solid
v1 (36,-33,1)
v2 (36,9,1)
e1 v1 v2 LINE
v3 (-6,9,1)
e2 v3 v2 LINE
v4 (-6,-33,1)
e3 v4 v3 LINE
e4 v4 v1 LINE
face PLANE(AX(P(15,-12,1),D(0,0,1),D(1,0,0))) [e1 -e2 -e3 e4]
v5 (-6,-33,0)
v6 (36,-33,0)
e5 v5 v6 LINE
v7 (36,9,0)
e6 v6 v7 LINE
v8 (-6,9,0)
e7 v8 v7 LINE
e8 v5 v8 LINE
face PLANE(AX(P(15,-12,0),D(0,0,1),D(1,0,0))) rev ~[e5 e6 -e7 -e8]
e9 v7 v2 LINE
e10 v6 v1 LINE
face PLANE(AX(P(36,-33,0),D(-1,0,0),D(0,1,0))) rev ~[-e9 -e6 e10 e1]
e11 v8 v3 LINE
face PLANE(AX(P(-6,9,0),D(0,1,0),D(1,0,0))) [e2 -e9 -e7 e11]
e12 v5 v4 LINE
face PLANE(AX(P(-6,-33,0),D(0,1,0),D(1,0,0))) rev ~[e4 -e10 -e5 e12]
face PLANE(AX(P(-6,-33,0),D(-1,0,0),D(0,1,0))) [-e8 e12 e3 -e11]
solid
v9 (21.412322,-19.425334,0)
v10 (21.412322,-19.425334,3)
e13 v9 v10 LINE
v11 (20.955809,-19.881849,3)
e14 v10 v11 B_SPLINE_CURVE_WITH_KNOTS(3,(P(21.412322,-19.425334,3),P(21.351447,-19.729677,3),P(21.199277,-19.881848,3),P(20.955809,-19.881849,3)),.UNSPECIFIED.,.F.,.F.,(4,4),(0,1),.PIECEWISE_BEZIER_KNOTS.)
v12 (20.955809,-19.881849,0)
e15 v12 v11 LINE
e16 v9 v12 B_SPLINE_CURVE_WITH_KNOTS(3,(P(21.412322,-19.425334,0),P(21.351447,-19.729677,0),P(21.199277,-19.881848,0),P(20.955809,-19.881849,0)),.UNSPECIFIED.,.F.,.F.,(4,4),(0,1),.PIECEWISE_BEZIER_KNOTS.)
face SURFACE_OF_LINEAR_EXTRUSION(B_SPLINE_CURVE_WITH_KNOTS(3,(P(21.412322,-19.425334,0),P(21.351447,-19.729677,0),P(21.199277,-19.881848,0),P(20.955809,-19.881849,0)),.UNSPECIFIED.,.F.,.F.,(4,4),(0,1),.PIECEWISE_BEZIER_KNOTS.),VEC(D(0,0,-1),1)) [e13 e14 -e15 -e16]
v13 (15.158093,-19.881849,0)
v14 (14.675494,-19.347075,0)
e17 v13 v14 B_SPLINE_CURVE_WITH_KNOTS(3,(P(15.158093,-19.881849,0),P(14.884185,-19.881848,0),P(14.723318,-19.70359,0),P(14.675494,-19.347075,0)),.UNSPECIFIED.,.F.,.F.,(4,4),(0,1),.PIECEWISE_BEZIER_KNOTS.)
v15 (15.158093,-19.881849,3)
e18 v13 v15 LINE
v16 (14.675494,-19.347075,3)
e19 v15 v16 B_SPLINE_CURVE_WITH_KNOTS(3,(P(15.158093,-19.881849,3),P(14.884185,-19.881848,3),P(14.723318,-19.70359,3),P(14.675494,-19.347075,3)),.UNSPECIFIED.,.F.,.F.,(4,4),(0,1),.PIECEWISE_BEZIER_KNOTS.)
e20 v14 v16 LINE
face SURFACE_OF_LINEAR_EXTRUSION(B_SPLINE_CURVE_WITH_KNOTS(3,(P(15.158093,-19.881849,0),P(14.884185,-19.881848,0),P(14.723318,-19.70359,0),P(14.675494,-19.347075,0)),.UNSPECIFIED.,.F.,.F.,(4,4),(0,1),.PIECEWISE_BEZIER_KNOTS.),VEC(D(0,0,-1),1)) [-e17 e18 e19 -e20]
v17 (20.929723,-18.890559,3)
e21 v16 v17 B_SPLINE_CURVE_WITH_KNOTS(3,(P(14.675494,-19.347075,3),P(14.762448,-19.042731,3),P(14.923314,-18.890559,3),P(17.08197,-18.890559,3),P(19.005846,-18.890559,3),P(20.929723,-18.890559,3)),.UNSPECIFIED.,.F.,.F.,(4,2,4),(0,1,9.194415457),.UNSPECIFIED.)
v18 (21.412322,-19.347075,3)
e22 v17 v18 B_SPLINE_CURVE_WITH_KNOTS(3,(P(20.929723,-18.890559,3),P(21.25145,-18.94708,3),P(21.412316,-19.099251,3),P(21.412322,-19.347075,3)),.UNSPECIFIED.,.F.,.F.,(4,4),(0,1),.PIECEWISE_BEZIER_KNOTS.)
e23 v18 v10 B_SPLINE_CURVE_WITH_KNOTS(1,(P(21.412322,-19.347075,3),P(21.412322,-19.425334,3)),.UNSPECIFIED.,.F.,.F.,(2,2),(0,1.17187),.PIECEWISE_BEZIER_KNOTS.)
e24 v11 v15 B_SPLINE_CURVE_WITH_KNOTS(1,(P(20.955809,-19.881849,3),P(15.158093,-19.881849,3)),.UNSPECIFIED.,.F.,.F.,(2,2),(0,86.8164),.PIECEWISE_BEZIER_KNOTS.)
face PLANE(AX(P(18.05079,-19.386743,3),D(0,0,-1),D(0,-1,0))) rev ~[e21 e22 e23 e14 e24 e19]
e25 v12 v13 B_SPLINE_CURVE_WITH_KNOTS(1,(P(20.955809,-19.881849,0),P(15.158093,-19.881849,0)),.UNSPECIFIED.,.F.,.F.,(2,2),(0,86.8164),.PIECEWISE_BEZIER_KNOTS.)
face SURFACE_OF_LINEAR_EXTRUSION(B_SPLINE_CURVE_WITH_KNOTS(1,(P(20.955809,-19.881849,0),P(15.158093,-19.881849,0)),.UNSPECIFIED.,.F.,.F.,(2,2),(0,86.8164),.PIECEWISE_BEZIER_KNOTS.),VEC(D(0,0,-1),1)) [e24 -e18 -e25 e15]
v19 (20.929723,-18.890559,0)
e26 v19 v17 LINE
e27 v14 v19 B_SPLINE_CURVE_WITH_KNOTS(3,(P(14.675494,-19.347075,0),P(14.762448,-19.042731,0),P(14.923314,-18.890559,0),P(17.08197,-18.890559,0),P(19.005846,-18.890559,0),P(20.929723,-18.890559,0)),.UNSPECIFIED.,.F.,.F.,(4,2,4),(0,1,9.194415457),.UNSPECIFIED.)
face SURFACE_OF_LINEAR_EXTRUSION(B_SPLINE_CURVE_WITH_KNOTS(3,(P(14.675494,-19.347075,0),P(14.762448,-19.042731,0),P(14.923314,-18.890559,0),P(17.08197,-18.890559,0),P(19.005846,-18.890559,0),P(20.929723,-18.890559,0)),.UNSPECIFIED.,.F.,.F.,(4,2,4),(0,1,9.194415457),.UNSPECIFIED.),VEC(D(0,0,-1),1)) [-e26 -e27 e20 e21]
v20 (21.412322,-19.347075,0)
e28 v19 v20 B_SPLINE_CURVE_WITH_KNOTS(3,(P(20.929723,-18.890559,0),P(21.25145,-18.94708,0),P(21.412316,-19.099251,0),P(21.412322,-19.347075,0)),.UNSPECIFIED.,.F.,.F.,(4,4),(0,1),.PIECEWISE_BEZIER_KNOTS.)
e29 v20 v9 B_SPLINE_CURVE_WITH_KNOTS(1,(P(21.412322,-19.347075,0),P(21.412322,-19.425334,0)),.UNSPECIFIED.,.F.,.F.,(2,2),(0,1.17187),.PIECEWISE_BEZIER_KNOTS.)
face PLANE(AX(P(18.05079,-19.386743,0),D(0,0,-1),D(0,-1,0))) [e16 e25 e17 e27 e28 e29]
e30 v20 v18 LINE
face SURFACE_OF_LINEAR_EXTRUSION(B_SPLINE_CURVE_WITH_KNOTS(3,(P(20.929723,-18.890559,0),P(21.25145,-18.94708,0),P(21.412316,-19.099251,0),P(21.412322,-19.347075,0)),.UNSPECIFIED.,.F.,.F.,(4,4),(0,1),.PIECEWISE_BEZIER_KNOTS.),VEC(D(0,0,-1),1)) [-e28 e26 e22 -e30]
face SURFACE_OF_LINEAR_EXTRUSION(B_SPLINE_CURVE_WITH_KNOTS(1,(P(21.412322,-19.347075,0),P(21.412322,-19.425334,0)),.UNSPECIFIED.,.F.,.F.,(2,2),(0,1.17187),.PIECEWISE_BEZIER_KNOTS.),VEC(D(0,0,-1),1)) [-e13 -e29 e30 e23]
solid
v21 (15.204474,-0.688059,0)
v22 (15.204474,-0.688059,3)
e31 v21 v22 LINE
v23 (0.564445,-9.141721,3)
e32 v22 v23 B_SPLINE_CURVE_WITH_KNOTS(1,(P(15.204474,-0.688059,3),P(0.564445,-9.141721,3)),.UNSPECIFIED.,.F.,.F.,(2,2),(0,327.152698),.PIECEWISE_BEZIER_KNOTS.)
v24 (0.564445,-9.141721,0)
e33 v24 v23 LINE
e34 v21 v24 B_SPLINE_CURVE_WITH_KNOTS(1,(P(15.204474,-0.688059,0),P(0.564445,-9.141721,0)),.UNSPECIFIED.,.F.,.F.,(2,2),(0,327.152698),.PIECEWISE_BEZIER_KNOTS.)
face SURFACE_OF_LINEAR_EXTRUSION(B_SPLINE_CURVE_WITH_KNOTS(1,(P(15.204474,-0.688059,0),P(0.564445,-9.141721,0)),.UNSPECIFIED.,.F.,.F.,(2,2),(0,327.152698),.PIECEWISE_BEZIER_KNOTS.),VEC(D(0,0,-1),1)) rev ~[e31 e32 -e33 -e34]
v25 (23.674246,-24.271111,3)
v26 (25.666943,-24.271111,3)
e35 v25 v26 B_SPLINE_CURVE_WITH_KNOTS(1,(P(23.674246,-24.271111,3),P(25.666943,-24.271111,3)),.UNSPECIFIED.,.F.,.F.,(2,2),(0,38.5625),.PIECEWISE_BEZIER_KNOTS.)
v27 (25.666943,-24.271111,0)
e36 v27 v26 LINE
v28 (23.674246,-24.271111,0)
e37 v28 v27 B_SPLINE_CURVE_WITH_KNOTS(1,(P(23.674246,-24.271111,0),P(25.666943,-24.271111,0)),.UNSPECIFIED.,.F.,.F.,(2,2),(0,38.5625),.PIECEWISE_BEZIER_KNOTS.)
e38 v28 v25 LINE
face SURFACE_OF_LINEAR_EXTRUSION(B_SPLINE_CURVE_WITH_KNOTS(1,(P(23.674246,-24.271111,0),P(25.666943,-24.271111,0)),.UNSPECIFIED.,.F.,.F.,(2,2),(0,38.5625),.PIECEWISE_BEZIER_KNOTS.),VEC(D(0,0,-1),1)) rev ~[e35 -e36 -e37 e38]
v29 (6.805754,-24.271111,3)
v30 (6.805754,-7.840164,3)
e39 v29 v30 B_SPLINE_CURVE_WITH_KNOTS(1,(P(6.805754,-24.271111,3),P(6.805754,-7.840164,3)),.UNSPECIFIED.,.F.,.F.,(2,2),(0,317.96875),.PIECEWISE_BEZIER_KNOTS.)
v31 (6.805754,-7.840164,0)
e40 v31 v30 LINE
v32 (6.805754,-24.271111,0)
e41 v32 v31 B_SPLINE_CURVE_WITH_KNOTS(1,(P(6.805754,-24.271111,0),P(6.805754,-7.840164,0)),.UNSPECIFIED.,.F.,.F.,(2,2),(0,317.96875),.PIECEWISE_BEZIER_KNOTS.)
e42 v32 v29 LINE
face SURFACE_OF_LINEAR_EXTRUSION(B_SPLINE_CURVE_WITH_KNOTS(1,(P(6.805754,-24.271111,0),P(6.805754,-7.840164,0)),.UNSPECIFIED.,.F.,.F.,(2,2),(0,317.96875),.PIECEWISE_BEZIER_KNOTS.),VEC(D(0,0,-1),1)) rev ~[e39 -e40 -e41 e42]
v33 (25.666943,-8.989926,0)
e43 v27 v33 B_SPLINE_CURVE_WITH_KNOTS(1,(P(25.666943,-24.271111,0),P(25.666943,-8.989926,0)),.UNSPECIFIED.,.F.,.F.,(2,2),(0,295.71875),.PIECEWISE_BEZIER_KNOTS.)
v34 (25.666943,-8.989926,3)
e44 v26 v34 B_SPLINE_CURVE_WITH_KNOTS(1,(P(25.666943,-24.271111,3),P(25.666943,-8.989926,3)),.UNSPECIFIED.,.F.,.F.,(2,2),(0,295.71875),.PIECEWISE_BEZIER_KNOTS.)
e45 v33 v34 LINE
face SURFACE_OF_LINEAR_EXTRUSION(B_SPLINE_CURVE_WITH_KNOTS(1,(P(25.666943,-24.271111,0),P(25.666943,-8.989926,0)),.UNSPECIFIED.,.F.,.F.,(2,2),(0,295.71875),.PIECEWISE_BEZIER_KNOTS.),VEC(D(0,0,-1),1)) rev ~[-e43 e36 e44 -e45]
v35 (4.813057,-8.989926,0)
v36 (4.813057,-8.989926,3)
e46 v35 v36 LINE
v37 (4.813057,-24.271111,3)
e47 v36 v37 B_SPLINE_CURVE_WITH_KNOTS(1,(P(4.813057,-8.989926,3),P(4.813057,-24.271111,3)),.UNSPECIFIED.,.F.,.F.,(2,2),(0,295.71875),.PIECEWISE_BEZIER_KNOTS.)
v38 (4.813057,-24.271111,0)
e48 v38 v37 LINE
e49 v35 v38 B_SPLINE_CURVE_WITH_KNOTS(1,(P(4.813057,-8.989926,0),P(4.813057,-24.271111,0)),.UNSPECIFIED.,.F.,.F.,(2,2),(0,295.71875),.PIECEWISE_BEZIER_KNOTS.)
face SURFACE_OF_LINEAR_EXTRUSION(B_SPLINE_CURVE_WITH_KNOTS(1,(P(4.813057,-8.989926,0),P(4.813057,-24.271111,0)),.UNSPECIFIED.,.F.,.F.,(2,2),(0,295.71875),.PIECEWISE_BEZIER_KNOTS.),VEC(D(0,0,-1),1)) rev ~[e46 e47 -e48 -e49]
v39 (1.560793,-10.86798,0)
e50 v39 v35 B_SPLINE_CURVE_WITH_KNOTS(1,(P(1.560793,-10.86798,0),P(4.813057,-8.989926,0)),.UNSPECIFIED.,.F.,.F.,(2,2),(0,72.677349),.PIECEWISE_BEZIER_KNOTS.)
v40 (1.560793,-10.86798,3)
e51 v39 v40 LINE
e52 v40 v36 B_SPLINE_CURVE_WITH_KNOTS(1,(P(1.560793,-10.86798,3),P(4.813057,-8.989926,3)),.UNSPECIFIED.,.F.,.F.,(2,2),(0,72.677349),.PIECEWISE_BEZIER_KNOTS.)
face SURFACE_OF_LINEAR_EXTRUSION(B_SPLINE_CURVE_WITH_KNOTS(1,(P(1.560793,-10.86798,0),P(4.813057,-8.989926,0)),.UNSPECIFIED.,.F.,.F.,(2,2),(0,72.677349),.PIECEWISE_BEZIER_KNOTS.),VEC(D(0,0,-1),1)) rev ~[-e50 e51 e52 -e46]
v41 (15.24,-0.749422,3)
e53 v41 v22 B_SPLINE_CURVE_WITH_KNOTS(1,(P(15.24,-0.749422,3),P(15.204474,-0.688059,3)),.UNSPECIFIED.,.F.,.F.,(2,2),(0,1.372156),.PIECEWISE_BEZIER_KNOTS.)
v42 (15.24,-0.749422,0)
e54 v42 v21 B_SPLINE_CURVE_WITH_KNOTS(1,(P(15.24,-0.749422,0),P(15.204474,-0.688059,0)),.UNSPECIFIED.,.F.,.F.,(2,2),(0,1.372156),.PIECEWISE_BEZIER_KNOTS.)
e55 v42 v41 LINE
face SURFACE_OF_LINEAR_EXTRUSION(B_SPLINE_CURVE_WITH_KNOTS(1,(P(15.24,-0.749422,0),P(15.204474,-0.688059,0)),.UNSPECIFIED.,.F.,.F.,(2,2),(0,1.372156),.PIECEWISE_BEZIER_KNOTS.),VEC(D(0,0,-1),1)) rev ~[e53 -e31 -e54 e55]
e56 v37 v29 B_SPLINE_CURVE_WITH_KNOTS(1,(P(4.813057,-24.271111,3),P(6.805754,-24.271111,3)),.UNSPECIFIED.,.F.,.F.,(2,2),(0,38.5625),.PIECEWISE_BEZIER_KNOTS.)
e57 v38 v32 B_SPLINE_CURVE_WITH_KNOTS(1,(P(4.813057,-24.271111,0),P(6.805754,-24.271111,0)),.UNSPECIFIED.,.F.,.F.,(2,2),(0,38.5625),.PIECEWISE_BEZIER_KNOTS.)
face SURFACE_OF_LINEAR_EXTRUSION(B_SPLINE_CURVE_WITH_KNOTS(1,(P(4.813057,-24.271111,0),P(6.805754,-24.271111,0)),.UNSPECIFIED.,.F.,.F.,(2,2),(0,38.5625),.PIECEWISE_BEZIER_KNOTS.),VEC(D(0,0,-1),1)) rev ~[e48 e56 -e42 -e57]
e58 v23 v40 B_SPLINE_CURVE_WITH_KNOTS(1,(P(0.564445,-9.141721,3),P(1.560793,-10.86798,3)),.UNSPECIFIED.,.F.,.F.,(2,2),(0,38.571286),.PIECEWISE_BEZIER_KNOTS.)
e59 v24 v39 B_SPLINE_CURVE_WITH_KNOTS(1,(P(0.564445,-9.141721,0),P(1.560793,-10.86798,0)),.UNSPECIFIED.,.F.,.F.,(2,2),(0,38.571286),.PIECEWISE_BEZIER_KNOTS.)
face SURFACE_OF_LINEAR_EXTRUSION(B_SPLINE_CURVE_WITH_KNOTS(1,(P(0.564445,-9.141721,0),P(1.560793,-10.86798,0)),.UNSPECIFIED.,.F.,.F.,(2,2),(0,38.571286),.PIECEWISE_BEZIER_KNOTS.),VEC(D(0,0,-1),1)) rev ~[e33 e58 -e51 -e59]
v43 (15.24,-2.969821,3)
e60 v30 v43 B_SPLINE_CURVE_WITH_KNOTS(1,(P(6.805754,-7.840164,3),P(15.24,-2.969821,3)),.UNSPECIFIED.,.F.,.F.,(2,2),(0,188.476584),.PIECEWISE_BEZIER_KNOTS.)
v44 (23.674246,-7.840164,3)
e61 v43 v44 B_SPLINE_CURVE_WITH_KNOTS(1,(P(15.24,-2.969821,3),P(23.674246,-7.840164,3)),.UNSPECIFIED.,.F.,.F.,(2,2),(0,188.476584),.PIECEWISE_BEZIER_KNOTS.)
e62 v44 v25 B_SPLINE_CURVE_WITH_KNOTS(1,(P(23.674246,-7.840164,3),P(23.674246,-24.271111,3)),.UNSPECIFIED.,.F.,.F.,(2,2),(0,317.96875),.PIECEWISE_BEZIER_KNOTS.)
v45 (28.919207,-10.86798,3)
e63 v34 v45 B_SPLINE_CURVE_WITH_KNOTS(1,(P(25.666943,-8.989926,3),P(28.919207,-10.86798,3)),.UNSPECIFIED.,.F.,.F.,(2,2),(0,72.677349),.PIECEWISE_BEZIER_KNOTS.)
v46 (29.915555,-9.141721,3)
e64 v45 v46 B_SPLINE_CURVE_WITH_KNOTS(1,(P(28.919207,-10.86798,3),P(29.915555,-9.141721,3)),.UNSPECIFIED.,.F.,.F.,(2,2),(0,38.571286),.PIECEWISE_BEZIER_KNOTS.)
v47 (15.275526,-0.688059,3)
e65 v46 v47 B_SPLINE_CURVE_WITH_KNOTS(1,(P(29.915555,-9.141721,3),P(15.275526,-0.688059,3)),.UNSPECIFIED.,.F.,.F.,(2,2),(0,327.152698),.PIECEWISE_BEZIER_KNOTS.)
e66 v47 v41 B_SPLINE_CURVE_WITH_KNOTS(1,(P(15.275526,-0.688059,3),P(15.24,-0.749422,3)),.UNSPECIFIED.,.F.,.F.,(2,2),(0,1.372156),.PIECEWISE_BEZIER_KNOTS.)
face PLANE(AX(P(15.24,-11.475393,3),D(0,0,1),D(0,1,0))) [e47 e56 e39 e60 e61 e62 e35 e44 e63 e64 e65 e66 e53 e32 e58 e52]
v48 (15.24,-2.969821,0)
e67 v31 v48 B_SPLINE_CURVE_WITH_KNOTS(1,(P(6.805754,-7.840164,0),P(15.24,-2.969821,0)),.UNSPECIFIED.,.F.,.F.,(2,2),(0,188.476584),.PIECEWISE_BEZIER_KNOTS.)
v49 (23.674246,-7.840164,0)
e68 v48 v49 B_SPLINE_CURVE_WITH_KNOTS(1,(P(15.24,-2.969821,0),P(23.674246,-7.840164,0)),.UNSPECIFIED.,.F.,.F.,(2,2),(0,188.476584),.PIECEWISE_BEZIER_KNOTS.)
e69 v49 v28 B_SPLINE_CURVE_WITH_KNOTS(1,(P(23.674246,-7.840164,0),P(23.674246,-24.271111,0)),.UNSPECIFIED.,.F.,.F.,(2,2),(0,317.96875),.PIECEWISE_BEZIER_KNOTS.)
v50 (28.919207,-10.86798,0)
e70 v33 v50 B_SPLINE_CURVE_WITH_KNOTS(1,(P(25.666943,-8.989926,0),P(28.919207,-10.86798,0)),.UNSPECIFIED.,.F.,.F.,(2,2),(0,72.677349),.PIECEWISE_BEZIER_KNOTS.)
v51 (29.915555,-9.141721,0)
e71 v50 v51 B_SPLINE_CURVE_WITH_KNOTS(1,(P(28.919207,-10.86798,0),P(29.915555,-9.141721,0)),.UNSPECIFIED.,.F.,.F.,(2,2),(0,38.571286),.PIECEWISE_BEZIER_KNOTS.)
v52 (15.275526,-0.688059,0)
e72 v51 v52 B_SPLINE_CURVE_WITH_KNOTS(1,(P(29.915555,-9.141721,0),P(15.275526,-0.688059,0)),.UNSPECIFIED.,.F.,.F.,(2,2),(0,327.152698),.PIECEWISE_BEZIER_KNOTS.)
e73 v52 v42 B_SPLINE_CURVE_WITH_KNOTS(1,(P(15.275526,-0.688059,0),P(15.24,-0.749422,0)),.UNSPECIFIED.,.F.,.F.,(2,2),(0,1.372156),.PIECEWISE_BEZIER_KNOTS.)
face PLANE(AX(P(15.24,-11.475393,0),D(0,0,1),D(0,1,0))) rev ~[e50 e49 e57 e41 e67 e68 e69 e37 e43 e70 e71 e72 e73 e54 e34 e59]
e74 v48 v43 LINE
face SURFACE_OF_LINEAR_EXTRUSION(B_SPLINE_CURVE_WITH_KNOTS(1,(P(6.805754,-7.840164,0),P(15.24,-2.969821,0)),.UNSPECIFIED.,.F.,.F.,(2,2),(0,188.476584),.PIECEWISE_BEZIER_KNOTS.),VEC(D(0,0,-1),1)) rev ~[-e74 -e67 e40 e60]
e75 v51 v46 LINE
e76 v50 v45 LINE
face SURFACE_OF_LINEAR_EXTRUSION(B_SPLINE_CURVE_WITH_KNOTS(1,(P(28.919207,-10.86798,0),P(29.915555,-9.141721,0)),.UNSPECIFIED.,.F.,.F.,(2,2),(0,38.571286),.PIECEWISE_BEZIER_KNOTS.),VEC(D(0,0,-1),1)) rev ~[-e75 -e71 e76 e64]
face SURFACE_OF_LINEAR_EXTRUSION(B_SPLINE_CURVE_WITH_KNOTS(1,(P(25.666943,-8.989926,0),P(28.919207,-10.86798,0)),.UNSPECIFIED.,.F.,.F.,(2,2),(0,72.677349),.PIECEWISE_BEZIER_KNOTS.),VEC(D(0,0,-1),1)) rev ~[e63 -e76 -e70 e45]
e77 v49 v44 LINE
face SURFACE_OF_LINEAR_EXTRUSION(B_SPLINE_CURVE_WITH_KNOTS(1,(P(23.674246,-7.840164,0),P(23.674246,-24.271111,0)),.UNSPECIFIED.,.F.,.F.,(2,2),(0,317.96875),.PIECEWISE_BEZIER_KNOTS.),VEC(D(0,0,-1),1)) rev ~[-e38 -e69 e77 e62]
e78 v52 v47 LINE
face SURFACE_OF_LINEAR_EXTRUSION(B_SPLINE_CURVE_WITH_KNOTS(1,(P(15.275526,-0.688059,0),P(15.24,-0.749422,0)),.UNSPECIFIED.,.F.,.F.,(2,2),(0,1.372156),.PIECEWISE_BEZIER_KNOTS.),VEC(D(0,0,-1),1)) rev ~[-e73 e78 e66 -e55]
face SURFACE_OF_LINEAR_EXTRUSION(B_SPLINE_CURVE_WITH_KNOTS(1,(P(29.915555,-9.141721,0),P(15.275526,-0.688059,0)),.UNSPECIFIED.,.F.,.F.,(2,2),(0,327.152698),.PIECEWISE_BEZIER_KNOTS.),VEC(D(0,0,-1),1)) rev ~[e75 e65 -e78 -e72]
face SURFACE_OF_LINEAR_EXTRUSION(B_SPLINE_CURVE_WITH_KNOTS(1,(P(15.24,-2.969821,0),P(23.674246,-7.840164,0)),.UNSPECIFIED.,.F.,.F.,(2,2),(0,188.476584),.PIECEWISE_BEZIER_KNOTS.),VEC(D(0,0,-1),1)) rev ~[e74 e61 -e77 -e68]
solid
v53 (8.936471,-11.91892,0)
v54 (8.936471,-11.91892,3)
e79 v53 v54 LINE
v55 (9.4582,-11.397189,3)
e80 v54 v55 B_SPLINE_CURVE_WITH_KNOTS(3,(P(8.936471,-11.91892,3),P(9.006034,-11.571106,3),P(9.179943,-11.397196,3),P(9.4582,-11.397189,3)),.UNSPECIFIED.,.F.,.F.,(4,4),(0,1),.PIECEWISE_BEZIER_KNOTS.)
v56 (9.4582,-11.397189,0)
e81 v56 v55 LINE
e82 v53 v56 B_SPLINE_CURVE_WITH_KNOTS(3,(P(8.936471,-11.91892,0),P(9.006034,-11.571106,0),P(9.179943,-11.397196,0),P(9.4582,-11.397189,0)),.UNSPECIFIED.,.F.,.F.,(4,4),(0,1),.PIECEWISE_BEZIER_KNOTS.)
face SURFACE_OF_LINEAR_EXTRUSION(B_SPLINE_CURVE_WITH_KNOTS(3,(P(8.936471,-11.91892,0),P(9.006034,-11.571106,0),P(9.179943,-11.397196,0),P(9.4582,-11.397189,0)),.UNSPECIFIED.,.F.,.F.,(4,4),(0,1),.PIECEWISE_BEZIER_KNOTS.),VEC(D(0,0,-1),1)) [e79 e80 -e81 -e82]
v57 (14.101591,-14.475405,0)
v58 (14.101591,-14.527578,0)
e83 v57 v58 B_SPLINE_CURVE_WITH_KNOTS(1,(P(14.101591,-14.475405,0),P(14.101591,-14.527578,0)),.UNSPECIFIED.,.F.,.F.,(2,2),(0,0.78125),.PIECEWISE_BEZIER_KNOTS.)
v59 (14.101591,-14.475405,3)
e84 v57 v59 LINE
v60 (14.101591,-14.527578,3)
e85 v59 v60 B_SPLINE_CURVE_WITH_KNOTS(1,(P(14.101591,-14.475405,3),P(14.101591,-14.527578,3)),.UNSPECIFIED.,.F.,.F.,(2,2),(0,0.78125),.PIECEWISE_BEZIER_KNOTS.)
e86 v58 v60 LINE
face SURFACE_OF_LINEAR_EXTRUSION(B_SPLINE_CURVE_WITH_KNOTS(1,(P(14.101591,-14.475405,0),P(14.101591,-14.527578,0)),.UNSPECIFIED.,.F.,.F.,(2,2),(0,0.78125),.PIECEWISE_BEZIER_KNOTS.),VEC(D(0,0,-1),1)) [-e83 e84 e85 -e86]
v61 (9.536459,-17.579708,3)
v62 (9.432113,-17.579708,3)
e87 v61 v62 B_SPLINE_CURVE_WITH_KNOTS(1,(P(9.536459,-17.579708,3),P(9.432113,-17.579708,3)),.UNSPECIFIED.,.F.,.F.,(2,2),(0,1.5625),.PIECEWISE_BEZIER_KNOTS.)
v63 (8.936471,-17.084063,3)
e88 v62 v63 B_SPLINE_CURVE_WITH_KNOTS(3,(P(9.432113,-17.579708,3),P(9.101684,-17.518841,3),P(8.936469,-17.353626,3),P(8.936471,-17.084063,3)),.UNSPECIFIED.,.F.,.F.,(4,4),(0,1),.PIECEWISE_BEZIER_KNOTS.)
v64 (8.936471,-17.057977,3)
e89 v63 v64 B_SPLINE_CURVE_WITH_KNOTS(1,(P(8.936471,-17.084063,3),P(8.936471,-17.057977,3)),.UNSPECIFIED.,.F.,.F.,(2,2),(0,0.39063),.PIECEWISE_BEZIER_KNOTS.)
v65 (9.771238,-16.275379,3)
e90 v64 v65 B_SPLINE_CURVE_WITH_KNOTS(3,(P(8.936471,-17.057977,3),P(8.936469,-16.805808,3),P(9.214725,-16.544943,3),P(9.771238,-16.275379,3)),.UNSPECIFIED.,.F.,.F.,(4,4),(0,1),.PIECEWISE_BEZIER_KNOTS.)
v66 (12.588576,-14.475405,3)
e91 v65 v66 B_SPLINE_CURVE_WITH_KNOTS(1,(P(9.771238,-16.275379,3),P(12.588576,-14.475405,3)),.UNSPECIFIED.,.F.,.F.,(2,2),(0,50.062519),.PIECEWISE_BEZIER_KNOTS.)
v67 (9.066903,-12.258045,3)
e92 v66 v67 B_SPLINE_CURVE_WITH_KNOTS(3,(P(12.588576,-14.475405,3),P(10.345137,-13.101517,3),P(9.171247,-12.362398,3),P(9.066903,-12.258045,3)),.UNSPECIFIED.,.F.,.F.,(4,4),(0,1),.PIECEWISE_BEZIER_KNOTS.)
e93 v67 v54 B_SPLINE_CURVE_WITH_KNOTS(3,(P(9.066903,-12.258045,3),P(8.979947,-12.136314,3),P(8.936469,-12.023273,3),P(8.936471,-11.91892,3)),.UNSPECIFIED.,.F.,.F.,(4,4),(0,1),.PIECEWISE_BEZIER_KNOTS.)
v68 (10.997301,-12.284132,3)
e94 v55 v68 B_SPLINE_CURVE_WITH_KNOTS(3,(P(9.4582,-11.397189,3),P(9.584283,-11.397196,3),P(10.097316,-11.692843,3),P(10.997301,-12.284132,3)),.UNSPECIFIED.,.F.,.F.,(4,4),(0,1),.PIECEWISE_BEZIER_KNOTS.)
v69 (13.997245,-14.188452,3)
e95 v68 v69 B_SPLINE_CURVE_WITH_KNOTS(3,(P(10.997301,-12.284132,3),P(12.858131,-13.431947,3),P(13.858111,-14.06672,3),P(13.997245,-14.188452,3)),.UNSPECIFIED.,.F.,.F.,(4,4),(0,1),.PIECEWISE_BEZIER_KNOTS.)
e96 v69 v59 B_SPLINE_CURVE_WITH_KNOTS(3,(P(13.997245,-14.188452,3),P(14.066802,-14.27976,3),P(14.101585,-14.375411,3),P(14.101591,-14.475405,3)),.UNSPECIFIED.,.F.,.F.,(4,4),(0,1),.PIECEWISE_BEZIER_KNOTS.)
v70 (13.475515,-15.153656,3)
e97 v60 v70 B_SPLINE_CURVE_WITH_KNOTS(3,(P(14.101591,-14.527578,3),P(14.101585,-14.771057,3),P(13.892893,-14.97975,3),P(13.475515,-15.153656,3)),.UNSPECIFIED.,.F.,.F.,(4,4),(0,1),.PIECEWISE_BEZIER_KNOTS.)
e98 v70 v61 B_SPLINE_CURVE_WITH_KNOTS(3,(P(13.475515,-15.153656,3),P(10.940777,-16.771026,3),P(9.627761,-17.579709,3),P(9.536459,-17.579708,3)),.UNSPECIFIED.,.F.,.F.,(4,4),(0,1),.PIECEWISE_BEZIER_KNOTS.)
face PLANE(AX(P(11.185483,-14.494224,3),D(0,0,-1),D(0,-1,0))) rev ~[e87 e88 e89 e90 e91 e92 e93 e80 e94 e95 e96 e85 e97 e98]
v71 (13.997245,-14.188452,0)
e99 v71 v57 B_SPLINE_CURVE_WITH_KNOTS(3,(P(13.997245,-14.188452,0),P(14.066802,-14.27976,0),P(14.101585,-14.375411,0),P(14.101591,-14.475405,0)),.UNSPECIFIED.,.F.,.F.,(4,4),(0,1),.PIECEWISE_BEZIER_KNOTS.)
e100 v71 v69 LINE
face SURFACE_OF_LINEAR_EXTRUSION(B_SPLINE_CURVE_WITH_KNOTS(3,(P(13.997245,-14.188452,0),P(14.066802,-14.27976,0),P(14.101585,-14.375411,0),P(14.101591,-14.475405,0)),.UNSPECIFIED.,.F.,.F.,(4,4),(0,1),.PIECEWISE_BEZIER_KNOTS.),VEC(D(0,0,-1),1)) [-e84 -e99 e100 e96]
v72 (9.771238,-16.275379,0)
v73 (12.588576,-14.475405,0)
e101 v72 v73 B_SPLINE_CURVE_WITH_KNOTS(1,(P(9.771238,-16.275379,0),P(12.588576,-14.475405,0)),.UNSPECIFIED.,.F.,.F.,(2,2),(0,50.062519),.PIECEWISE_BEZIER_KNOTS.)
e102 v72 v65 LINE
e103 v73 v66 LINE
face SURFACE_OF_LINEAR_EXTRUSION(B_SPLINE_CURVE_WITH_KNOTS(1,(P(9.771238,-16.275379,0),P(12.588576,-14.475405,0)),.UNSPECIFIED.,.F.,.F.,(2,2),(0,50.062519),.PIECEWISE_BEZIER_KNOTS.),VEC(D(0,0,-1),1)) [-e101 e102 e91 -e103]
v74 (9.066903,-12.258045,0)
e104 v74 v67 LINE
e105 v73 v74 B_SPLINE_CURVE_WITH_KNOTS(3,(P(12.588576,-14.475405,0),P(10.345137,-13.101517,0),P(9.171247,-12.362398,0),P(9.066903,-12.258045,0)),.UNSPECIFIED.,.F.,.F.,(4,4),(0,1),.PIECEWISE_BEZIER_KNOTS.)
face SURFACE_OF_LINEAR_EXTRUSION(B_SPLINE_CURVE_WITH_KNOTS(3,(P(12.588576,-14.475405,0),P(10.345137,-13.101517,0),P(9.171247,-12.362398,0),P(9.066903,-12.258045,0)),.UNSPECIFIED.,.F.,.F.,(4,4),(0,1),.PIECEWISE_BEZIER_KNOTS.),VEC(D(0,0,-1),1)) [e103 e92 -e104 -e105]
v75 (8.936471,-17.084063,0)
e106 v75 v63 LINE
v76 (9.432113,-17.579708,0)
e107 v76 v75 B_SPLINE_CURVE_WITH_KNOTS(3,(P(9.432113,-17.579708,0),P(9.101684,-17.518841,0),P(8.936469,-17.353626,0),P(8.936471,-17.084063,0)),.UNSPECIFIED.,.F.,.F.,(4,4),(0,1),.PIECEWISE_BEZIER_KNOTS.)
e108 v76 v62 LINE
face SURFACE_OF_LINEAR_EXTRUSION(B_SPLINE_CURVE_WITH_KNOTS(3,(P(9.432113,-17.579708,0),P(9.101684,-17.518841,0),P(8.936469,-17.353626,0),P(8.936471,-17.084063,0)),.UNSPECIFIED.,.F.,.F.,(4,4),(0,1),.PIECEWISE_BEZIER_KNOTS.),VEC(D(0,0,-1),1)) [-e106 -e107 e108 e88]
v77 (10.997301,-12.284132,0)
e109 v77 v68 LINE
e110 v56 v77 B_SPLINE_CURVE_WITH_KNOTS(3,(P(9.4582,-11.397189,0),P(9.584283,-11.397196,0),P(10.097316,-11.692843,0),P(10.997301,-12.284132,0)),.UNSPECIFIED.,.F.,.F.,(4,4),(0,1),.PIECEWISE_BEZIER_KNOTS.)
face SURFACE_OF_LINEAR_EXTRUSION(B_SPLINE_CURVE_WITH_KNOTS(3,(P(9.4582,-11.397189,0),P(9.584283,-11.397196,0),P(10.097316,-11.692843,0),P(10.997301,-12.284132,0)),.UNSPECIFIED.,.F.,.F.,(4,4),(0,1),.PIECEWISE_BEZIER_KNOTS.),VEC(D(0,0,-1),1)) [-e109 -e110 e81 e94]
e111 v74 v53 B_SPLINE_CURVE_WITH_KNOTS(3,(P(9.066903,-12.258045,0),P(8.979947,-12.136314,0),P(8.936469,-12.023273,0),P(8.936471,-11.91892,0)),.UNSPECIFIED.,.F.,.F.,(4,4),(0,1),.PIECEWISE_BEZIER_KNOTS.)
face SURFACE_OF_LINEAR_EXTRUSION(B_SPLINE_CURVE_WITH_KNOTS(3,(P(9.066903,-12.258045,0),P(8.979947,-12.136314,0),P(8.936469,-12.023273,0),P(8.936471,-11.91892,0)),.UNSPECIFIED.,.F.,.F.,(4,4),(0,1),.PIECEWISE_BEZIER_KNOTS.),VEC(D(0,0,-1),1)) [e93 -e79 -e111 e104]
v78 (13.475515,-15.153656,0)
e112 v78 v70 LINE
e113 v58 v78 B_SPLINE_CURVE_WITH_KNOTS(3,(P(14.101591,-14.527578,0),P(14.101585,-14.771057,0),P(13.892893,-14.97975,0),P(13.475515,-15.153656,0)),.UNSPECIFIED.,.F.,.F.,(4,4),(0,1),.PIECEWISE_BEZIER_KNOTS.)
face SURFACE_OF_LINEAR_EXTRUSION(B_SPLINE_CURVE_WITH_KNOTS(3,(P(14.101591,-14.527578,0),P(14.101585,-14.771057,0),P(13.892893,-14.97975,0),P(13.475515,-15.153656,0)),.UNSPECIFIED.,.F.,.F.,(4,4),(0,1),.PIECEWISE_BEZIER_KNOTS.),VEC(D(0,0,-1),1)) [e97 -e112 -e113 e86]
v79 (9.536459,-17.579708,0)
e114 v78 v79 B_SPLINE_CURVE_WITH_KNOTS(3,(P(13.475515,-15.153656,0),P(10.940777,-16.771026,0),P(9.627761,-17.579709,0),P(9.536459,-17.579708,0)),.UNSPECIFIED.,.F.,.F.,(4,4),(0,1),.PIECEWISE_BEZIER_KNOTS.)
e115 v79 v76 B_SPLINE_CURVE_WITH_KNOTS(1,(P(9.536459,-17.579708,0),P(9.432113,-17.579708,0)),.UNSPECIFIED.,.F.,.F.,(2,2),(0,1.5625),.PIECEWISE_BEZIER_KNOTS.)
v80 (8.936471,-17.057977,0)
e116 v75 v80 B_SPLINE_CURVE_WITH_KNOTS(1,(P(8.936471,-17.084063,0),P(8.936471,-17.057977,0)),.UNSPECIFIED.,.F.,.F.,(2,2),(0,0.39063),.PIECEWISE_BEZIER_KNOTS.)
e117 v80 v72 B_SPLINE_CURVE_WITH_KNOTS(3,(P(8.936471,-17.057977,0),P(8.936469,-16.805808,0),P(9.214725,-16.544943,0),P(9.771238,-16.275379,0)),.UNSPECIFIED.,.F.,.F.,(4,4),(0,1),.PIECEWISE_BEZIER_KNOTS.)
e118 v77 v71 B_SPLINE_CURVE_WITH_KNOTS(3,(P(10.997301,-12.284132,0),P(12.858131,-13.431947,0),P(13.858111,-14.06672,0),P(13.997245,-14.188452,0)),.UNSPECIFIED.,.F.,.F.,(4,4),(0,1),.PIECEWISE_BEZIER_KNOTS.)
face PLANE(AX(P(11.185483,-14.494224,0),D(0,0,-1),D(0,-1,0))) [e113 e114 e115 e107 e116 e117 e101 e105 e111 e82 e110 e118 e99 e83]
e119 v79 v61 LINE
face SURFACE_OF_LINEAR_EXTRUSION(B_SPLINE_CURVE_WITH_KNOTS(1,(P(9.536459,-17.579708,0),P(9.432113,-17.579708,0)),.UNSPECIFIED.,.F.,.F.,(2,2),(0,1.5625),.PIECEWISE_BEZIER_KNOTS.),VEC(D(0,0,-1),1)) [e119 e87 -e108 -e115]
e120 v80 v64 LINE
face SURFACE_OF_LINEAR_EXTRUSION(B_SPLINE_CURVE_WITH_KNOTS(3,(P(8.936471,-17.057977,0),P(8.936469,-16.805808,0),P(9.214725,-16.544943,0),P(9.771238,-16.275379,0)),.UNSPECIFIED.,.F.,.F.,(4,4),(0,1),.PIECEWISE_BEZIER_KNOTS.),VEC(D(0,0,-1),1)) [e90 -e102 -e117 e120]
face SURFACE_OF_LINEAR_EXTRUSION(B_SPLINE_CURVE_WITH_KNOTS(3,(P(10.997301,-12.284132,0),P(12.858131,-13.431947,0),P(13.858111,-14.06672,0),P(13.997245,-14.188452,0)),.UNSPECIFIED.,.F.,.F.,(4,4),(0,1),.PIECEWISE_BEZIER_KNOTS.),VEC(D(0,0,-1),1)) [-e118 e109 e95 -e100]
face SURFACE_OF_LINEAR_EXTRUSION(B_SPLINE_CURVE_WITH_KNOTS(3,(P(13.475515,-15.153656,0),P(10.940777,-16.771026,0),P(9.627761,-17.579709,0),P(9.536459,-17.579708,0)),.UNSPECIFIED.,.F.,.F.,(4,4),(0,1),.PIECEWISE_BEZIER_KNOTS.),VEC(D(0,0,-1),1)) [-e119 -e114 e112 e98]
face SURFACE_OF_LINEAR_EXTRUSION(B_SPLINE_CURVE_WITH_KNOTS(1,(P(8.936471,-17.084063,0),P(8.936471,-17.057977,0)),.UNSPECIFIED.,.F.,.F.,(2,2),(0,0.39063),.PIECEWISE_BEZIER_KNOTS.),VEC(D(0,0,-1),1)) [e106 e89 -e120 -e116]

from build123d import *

# Parameters (mm, degrees)
EXTRUDE_DEPTH    = 3
EXTRUDE001_DEPTH = 3
EXTRUDE003_DEPTH = 3
BOX_W            = 42
BOX_H            = 42
BOX_DEPTH        = 1


with BuildPart() as extrude_body:
    # rect2864_9 → Extrude (new body)
    with BuildSketch(Plane(origin=(15.24, -12.479585, 0), x_dir=(0, 1, 0), z_dir=(0, 0, 1))):
        with BuildLine():
            add(Edge.make_bspline(
                [(11.791526, 0.035526), (3.337864, 14.675555)],
                knots=[0, 0, 327.152698, 327.152698], degree=1))
            add(Edge.make_bspline(
                [(3.337864, 14.675555), (1.611605, 13.679207)],
                knots=[0, 0, 38.571286, 38.571286], degree=1))
            add(Edge.make_bspline(
                [(1.611605, 13.679207), (3.489659, 10.426943)],
                knots=[0, 0, 72.677349, 72.677349], degree=1))
            add(Edge.make_bspline(
                [(3.489659, 10.426943), (-11.791526, 10.426943)],
                knots=[0, 0, 295.71875, 295.71875], degree=1))
            add(Edge.make_bspline(
                [(-11.791526, 10.426943), (-11.791526, 8.434246)],
                knots=[0, 0, 38.5625, 38.5625], degree=1))
            add(Edge.make_bspline(
                [(-11.791526, 8.434246), (4.639421, 8.434246)],
                knots=[0, 0, 317.96875, 317.96875], degree=1))
            add(Edge.make_bspline(
                [(4.639421, 8.434246), (9.509764, 0)],
                knots=[0, 0, 188.476584, 188.476584], degree=1))
            add(Edge.make_bspline(
                [(9.509764, 0), (4.639421, -8.434246)],
                knots=[0, 0, 188.476584, 188.476584], degree=1))
            add(Edge.make_bspline(
                [(4.639421, -8.434246), (-11.791526, -8.434246)],
                knots=[0, 0, 317.96875, 317.96875], degree=1))
            add(Edge.make_bspline(
                [(-11.791526, -8.434246), (-11.791526, -10.426943)],
                knots=[0, 0, 38.5625, 38.5625], degree=1))
            add(Edge.make_bspline(
                [(-11.791526, -10.426943), (3.489659, -10.426943)],
                knots=[0, 0, 295.71875, 295.71875], degree=1))
            add(Edge.make_bspline(
                [(3.489659, -10.426943), (1.611605, -13.679207)],
                knots=[0, 0, 72.677349, 72.677349], degree=1))
            add(Edge.make_bspline(
                [(1.611605, -13.679207), (3.337864, -14.675555)],
                knots=[0, 0, 38.571286, 38.571286], degree=1))
            add(Edge.make_bspline(
                [(3.337864, -14.675555), (11.791526, -0.035526)],
                knots=[0, 0, 327.152698, 327.152698], degree=1))
            add(Edge.make_bspline(
                [(11.791526, -0.035526), (11.730163, 0)],
                knots=[0, 0, 1.372156, 1.372156], degree=1))
            add(Edge.make_bspline(
                [(11.730163, 0), (11.791526, 0.035526)],
                knots=[0, 0, 1.372156, 1.372156], degree=1))
        make_face()
    extrude(amount=EXTRUDE_DEPTH)


with BuildPart() as extrude001:
    # path2994 → Extrude001 (new body)
    with BuildSketch(Plane(origin=(11.51903, -14.488449, 0), x_dir=(0, -1, 0), z_dir=(0, 0, -1))):
        with BuildLine():
            add(Edge.make_bspline(
                [(-3.09126, 2.06083), (-3.091253, 1.934747), (-2.795606, 1.421714), (-2.204317, 0.521729)],
                knots=[0, 0, 0, 0, 1, 1, 1, 1], degree=3))
            add(Edge.make_bspline(
                [(-2.204317, 0.521729), (-1.056502, -1.339101), (-0.421729, -2.339081), (-0.299997, -2.478215)],
                knots=[0, 0, 0, 0, 1, 1, 1, 1], degree=3))
            add(Edge.make_bspline(
                [(-0.299997, -2.478215), (-0.208689, -2.547772), (-0.113038, -2.582555), (-0.013044, -2.582561)],
                knots=[0, 0, 0, 0, 1, 1, 1, 1], degree=3))
            add(Edge.make_bspline(
                [(-0.013044, -2.582561), (0.039129, -2.582561)],
                knots=[0, 0, 0.78125, 0.78125], degree=1))
            add(Edge.make_bspline(
                [(0.039129, -2.582561), (0.282608, -2.582555), (0.491301, -2.373863), (0.665207, -1.956485)],
                knots=[0, 0, 0, 0, 1, 1, 1, 1], degree=3))
            add(Edge.make_bspline(
                [(0.665207, -1.956485), (2.282577, 0.578253), (3.09126, 1.891269), (3.091259, 1.982571)],
                knots=[0, 0, 0, 0, 1, 1, 1, 1], degree=3))
            add(Edge.make_bspline(
                [(3.091259, 1.982571), (3.091259, 2.086917)],
                knots=[0, 0, 1.5625, 1.5625], degree=1))
            add(Edge.make_bspline(
                [(3.091259, 2.086917), (3.030392, 2.417346), (2.865177, 2.582561), (2.595614, 2.582559)],
                knots=[0, 0, 0, 0, 1, 1, 1, 1], degree=3))
            add(Edge.make_bspline(
                [(2.595614, 2.582559), (2.569528, 2.582559)],
                knots=[0, 0, 0.39063, 0.39063], degree=1))
            add(Edge.make_bspline(
                [(2.569528, 2.582559), (2.317359, 2.582561), (2.056494, 2.304305), (1.78693, 1.747792)],
                knots=[0, 0, 0, 0, 1, 1, 1, 1], degree=3))
            add(Edge.make_bspline(
                [(1.78693, 1.747792), (-0.013044, -1.069546)],
                knots=[0, 0, 50.062519, 50.062519], degree=1))
            add(Edge.make_bspline(
                [(-0.013044, -1.069546), (-1.386932, 1.173893), (-2.126051, 2.347783), (-2.230404, 2.452127)],
                knots=[0, 0, 0, 0, 1, 1, 1, 1], degree=3))
            add(Edge.make_bspline(
                [(-2.230404, 2.452127), (-2.352135, 2.539083), (-2.465176, 2.582561), (-2.569529, 2.582559)],
                knots=[0, 0, 0, 0, 1, 1, 1, 1], degree=3))
            add(Edge.make_bspline(
                [(-2.569529, 2.582559), (-2.917343, 2.512996), (-3.091253, 2.339087), (-3.09126, 2.06083)],
                knots=[0, 0, 0, 0, 1, 1, 1, 1], degree=3))
        make_face()
    extrude(amount=-EXTRUDE001_DEPTH)


with BuildPart() as extrude003:
    # path2996 → Extrude003 (new body)
    with BuildSketch(Plane(origin=(18.043908, -19.386204, 0), x_dir=(0, -1, 0), z_dir=(0, 0, -1))):
        with BuildLine():
            add(Edge.make_bspline(
                [(-0.495645, 2.885815), (-0.495645, -2.885815)],
                knots=[0, 0, 86.42578, 86.42578], degree=1))
            add(Edge.make_bspline(
                [(-0.495645, -2.885815), (-0.439124, -3.207542), (-0.286953, -3.368408), (-0.039129, -3.368414)],
                knots=[0, 0, 0, 0, 1, 1, 1, 1], degree=3))
            add(Edge.make_bspline(
                [(-0.039129, -3.368414), (0.03913, -3.368414)],
                knots=[0, 0, 1.17187, 1.17187], degree=1))
            add(Edge.make_bspline(
                [(0.03913, -3.368414), (0.343473, -3.307539), (0.495644, -3.155369), (0.495645, -2.911901)],
                knots=[0, 0, 0, 0, 1, 1, 1, 1], degree=3))
            add(Edge.make_bspline(
                [(0.495645, -2.911901), (0.495645, 2.885815)],
                knots=[0, 0, 86.8164, 86.8164], degree=1))
            add(Edge.make_bspline(
                [(0.495645, 2.885815), (0.495644, 3.159723), (0.317386, 3.32059), (-0.039129, 3.368414)],
                knots=[0, 0, 0, 0, 1, 1, 1, 1], degree=3))
            add(Edge.make_bspline(
                [(-0.039129, 3.368414), (-0.343473, 3.28146), (-0.495645, 3.120594), (-0.495645, 2.885815)],
                knots=[0, 0, 0, 0, 1, 1, 1, 1], degree=3))
        make_face()
    extrude(amount=-EXTRUDE003_DEPTH)


with BuildPart() as cube:
    # Box → Box (new body)
    with BuildSketch(Plane(origin=(-6, -33, 0), x_dir=(1, 0, 0), z_dir=(0, 0, 1))):
        with Locations((21, 21)):
            Rectangle(BOX_W, BOX_H)
    extrude(amount=BOX_DEPTH)


solid = Compound([extrude_body.part, extrude001.part, extrude003.part, cube.part])
